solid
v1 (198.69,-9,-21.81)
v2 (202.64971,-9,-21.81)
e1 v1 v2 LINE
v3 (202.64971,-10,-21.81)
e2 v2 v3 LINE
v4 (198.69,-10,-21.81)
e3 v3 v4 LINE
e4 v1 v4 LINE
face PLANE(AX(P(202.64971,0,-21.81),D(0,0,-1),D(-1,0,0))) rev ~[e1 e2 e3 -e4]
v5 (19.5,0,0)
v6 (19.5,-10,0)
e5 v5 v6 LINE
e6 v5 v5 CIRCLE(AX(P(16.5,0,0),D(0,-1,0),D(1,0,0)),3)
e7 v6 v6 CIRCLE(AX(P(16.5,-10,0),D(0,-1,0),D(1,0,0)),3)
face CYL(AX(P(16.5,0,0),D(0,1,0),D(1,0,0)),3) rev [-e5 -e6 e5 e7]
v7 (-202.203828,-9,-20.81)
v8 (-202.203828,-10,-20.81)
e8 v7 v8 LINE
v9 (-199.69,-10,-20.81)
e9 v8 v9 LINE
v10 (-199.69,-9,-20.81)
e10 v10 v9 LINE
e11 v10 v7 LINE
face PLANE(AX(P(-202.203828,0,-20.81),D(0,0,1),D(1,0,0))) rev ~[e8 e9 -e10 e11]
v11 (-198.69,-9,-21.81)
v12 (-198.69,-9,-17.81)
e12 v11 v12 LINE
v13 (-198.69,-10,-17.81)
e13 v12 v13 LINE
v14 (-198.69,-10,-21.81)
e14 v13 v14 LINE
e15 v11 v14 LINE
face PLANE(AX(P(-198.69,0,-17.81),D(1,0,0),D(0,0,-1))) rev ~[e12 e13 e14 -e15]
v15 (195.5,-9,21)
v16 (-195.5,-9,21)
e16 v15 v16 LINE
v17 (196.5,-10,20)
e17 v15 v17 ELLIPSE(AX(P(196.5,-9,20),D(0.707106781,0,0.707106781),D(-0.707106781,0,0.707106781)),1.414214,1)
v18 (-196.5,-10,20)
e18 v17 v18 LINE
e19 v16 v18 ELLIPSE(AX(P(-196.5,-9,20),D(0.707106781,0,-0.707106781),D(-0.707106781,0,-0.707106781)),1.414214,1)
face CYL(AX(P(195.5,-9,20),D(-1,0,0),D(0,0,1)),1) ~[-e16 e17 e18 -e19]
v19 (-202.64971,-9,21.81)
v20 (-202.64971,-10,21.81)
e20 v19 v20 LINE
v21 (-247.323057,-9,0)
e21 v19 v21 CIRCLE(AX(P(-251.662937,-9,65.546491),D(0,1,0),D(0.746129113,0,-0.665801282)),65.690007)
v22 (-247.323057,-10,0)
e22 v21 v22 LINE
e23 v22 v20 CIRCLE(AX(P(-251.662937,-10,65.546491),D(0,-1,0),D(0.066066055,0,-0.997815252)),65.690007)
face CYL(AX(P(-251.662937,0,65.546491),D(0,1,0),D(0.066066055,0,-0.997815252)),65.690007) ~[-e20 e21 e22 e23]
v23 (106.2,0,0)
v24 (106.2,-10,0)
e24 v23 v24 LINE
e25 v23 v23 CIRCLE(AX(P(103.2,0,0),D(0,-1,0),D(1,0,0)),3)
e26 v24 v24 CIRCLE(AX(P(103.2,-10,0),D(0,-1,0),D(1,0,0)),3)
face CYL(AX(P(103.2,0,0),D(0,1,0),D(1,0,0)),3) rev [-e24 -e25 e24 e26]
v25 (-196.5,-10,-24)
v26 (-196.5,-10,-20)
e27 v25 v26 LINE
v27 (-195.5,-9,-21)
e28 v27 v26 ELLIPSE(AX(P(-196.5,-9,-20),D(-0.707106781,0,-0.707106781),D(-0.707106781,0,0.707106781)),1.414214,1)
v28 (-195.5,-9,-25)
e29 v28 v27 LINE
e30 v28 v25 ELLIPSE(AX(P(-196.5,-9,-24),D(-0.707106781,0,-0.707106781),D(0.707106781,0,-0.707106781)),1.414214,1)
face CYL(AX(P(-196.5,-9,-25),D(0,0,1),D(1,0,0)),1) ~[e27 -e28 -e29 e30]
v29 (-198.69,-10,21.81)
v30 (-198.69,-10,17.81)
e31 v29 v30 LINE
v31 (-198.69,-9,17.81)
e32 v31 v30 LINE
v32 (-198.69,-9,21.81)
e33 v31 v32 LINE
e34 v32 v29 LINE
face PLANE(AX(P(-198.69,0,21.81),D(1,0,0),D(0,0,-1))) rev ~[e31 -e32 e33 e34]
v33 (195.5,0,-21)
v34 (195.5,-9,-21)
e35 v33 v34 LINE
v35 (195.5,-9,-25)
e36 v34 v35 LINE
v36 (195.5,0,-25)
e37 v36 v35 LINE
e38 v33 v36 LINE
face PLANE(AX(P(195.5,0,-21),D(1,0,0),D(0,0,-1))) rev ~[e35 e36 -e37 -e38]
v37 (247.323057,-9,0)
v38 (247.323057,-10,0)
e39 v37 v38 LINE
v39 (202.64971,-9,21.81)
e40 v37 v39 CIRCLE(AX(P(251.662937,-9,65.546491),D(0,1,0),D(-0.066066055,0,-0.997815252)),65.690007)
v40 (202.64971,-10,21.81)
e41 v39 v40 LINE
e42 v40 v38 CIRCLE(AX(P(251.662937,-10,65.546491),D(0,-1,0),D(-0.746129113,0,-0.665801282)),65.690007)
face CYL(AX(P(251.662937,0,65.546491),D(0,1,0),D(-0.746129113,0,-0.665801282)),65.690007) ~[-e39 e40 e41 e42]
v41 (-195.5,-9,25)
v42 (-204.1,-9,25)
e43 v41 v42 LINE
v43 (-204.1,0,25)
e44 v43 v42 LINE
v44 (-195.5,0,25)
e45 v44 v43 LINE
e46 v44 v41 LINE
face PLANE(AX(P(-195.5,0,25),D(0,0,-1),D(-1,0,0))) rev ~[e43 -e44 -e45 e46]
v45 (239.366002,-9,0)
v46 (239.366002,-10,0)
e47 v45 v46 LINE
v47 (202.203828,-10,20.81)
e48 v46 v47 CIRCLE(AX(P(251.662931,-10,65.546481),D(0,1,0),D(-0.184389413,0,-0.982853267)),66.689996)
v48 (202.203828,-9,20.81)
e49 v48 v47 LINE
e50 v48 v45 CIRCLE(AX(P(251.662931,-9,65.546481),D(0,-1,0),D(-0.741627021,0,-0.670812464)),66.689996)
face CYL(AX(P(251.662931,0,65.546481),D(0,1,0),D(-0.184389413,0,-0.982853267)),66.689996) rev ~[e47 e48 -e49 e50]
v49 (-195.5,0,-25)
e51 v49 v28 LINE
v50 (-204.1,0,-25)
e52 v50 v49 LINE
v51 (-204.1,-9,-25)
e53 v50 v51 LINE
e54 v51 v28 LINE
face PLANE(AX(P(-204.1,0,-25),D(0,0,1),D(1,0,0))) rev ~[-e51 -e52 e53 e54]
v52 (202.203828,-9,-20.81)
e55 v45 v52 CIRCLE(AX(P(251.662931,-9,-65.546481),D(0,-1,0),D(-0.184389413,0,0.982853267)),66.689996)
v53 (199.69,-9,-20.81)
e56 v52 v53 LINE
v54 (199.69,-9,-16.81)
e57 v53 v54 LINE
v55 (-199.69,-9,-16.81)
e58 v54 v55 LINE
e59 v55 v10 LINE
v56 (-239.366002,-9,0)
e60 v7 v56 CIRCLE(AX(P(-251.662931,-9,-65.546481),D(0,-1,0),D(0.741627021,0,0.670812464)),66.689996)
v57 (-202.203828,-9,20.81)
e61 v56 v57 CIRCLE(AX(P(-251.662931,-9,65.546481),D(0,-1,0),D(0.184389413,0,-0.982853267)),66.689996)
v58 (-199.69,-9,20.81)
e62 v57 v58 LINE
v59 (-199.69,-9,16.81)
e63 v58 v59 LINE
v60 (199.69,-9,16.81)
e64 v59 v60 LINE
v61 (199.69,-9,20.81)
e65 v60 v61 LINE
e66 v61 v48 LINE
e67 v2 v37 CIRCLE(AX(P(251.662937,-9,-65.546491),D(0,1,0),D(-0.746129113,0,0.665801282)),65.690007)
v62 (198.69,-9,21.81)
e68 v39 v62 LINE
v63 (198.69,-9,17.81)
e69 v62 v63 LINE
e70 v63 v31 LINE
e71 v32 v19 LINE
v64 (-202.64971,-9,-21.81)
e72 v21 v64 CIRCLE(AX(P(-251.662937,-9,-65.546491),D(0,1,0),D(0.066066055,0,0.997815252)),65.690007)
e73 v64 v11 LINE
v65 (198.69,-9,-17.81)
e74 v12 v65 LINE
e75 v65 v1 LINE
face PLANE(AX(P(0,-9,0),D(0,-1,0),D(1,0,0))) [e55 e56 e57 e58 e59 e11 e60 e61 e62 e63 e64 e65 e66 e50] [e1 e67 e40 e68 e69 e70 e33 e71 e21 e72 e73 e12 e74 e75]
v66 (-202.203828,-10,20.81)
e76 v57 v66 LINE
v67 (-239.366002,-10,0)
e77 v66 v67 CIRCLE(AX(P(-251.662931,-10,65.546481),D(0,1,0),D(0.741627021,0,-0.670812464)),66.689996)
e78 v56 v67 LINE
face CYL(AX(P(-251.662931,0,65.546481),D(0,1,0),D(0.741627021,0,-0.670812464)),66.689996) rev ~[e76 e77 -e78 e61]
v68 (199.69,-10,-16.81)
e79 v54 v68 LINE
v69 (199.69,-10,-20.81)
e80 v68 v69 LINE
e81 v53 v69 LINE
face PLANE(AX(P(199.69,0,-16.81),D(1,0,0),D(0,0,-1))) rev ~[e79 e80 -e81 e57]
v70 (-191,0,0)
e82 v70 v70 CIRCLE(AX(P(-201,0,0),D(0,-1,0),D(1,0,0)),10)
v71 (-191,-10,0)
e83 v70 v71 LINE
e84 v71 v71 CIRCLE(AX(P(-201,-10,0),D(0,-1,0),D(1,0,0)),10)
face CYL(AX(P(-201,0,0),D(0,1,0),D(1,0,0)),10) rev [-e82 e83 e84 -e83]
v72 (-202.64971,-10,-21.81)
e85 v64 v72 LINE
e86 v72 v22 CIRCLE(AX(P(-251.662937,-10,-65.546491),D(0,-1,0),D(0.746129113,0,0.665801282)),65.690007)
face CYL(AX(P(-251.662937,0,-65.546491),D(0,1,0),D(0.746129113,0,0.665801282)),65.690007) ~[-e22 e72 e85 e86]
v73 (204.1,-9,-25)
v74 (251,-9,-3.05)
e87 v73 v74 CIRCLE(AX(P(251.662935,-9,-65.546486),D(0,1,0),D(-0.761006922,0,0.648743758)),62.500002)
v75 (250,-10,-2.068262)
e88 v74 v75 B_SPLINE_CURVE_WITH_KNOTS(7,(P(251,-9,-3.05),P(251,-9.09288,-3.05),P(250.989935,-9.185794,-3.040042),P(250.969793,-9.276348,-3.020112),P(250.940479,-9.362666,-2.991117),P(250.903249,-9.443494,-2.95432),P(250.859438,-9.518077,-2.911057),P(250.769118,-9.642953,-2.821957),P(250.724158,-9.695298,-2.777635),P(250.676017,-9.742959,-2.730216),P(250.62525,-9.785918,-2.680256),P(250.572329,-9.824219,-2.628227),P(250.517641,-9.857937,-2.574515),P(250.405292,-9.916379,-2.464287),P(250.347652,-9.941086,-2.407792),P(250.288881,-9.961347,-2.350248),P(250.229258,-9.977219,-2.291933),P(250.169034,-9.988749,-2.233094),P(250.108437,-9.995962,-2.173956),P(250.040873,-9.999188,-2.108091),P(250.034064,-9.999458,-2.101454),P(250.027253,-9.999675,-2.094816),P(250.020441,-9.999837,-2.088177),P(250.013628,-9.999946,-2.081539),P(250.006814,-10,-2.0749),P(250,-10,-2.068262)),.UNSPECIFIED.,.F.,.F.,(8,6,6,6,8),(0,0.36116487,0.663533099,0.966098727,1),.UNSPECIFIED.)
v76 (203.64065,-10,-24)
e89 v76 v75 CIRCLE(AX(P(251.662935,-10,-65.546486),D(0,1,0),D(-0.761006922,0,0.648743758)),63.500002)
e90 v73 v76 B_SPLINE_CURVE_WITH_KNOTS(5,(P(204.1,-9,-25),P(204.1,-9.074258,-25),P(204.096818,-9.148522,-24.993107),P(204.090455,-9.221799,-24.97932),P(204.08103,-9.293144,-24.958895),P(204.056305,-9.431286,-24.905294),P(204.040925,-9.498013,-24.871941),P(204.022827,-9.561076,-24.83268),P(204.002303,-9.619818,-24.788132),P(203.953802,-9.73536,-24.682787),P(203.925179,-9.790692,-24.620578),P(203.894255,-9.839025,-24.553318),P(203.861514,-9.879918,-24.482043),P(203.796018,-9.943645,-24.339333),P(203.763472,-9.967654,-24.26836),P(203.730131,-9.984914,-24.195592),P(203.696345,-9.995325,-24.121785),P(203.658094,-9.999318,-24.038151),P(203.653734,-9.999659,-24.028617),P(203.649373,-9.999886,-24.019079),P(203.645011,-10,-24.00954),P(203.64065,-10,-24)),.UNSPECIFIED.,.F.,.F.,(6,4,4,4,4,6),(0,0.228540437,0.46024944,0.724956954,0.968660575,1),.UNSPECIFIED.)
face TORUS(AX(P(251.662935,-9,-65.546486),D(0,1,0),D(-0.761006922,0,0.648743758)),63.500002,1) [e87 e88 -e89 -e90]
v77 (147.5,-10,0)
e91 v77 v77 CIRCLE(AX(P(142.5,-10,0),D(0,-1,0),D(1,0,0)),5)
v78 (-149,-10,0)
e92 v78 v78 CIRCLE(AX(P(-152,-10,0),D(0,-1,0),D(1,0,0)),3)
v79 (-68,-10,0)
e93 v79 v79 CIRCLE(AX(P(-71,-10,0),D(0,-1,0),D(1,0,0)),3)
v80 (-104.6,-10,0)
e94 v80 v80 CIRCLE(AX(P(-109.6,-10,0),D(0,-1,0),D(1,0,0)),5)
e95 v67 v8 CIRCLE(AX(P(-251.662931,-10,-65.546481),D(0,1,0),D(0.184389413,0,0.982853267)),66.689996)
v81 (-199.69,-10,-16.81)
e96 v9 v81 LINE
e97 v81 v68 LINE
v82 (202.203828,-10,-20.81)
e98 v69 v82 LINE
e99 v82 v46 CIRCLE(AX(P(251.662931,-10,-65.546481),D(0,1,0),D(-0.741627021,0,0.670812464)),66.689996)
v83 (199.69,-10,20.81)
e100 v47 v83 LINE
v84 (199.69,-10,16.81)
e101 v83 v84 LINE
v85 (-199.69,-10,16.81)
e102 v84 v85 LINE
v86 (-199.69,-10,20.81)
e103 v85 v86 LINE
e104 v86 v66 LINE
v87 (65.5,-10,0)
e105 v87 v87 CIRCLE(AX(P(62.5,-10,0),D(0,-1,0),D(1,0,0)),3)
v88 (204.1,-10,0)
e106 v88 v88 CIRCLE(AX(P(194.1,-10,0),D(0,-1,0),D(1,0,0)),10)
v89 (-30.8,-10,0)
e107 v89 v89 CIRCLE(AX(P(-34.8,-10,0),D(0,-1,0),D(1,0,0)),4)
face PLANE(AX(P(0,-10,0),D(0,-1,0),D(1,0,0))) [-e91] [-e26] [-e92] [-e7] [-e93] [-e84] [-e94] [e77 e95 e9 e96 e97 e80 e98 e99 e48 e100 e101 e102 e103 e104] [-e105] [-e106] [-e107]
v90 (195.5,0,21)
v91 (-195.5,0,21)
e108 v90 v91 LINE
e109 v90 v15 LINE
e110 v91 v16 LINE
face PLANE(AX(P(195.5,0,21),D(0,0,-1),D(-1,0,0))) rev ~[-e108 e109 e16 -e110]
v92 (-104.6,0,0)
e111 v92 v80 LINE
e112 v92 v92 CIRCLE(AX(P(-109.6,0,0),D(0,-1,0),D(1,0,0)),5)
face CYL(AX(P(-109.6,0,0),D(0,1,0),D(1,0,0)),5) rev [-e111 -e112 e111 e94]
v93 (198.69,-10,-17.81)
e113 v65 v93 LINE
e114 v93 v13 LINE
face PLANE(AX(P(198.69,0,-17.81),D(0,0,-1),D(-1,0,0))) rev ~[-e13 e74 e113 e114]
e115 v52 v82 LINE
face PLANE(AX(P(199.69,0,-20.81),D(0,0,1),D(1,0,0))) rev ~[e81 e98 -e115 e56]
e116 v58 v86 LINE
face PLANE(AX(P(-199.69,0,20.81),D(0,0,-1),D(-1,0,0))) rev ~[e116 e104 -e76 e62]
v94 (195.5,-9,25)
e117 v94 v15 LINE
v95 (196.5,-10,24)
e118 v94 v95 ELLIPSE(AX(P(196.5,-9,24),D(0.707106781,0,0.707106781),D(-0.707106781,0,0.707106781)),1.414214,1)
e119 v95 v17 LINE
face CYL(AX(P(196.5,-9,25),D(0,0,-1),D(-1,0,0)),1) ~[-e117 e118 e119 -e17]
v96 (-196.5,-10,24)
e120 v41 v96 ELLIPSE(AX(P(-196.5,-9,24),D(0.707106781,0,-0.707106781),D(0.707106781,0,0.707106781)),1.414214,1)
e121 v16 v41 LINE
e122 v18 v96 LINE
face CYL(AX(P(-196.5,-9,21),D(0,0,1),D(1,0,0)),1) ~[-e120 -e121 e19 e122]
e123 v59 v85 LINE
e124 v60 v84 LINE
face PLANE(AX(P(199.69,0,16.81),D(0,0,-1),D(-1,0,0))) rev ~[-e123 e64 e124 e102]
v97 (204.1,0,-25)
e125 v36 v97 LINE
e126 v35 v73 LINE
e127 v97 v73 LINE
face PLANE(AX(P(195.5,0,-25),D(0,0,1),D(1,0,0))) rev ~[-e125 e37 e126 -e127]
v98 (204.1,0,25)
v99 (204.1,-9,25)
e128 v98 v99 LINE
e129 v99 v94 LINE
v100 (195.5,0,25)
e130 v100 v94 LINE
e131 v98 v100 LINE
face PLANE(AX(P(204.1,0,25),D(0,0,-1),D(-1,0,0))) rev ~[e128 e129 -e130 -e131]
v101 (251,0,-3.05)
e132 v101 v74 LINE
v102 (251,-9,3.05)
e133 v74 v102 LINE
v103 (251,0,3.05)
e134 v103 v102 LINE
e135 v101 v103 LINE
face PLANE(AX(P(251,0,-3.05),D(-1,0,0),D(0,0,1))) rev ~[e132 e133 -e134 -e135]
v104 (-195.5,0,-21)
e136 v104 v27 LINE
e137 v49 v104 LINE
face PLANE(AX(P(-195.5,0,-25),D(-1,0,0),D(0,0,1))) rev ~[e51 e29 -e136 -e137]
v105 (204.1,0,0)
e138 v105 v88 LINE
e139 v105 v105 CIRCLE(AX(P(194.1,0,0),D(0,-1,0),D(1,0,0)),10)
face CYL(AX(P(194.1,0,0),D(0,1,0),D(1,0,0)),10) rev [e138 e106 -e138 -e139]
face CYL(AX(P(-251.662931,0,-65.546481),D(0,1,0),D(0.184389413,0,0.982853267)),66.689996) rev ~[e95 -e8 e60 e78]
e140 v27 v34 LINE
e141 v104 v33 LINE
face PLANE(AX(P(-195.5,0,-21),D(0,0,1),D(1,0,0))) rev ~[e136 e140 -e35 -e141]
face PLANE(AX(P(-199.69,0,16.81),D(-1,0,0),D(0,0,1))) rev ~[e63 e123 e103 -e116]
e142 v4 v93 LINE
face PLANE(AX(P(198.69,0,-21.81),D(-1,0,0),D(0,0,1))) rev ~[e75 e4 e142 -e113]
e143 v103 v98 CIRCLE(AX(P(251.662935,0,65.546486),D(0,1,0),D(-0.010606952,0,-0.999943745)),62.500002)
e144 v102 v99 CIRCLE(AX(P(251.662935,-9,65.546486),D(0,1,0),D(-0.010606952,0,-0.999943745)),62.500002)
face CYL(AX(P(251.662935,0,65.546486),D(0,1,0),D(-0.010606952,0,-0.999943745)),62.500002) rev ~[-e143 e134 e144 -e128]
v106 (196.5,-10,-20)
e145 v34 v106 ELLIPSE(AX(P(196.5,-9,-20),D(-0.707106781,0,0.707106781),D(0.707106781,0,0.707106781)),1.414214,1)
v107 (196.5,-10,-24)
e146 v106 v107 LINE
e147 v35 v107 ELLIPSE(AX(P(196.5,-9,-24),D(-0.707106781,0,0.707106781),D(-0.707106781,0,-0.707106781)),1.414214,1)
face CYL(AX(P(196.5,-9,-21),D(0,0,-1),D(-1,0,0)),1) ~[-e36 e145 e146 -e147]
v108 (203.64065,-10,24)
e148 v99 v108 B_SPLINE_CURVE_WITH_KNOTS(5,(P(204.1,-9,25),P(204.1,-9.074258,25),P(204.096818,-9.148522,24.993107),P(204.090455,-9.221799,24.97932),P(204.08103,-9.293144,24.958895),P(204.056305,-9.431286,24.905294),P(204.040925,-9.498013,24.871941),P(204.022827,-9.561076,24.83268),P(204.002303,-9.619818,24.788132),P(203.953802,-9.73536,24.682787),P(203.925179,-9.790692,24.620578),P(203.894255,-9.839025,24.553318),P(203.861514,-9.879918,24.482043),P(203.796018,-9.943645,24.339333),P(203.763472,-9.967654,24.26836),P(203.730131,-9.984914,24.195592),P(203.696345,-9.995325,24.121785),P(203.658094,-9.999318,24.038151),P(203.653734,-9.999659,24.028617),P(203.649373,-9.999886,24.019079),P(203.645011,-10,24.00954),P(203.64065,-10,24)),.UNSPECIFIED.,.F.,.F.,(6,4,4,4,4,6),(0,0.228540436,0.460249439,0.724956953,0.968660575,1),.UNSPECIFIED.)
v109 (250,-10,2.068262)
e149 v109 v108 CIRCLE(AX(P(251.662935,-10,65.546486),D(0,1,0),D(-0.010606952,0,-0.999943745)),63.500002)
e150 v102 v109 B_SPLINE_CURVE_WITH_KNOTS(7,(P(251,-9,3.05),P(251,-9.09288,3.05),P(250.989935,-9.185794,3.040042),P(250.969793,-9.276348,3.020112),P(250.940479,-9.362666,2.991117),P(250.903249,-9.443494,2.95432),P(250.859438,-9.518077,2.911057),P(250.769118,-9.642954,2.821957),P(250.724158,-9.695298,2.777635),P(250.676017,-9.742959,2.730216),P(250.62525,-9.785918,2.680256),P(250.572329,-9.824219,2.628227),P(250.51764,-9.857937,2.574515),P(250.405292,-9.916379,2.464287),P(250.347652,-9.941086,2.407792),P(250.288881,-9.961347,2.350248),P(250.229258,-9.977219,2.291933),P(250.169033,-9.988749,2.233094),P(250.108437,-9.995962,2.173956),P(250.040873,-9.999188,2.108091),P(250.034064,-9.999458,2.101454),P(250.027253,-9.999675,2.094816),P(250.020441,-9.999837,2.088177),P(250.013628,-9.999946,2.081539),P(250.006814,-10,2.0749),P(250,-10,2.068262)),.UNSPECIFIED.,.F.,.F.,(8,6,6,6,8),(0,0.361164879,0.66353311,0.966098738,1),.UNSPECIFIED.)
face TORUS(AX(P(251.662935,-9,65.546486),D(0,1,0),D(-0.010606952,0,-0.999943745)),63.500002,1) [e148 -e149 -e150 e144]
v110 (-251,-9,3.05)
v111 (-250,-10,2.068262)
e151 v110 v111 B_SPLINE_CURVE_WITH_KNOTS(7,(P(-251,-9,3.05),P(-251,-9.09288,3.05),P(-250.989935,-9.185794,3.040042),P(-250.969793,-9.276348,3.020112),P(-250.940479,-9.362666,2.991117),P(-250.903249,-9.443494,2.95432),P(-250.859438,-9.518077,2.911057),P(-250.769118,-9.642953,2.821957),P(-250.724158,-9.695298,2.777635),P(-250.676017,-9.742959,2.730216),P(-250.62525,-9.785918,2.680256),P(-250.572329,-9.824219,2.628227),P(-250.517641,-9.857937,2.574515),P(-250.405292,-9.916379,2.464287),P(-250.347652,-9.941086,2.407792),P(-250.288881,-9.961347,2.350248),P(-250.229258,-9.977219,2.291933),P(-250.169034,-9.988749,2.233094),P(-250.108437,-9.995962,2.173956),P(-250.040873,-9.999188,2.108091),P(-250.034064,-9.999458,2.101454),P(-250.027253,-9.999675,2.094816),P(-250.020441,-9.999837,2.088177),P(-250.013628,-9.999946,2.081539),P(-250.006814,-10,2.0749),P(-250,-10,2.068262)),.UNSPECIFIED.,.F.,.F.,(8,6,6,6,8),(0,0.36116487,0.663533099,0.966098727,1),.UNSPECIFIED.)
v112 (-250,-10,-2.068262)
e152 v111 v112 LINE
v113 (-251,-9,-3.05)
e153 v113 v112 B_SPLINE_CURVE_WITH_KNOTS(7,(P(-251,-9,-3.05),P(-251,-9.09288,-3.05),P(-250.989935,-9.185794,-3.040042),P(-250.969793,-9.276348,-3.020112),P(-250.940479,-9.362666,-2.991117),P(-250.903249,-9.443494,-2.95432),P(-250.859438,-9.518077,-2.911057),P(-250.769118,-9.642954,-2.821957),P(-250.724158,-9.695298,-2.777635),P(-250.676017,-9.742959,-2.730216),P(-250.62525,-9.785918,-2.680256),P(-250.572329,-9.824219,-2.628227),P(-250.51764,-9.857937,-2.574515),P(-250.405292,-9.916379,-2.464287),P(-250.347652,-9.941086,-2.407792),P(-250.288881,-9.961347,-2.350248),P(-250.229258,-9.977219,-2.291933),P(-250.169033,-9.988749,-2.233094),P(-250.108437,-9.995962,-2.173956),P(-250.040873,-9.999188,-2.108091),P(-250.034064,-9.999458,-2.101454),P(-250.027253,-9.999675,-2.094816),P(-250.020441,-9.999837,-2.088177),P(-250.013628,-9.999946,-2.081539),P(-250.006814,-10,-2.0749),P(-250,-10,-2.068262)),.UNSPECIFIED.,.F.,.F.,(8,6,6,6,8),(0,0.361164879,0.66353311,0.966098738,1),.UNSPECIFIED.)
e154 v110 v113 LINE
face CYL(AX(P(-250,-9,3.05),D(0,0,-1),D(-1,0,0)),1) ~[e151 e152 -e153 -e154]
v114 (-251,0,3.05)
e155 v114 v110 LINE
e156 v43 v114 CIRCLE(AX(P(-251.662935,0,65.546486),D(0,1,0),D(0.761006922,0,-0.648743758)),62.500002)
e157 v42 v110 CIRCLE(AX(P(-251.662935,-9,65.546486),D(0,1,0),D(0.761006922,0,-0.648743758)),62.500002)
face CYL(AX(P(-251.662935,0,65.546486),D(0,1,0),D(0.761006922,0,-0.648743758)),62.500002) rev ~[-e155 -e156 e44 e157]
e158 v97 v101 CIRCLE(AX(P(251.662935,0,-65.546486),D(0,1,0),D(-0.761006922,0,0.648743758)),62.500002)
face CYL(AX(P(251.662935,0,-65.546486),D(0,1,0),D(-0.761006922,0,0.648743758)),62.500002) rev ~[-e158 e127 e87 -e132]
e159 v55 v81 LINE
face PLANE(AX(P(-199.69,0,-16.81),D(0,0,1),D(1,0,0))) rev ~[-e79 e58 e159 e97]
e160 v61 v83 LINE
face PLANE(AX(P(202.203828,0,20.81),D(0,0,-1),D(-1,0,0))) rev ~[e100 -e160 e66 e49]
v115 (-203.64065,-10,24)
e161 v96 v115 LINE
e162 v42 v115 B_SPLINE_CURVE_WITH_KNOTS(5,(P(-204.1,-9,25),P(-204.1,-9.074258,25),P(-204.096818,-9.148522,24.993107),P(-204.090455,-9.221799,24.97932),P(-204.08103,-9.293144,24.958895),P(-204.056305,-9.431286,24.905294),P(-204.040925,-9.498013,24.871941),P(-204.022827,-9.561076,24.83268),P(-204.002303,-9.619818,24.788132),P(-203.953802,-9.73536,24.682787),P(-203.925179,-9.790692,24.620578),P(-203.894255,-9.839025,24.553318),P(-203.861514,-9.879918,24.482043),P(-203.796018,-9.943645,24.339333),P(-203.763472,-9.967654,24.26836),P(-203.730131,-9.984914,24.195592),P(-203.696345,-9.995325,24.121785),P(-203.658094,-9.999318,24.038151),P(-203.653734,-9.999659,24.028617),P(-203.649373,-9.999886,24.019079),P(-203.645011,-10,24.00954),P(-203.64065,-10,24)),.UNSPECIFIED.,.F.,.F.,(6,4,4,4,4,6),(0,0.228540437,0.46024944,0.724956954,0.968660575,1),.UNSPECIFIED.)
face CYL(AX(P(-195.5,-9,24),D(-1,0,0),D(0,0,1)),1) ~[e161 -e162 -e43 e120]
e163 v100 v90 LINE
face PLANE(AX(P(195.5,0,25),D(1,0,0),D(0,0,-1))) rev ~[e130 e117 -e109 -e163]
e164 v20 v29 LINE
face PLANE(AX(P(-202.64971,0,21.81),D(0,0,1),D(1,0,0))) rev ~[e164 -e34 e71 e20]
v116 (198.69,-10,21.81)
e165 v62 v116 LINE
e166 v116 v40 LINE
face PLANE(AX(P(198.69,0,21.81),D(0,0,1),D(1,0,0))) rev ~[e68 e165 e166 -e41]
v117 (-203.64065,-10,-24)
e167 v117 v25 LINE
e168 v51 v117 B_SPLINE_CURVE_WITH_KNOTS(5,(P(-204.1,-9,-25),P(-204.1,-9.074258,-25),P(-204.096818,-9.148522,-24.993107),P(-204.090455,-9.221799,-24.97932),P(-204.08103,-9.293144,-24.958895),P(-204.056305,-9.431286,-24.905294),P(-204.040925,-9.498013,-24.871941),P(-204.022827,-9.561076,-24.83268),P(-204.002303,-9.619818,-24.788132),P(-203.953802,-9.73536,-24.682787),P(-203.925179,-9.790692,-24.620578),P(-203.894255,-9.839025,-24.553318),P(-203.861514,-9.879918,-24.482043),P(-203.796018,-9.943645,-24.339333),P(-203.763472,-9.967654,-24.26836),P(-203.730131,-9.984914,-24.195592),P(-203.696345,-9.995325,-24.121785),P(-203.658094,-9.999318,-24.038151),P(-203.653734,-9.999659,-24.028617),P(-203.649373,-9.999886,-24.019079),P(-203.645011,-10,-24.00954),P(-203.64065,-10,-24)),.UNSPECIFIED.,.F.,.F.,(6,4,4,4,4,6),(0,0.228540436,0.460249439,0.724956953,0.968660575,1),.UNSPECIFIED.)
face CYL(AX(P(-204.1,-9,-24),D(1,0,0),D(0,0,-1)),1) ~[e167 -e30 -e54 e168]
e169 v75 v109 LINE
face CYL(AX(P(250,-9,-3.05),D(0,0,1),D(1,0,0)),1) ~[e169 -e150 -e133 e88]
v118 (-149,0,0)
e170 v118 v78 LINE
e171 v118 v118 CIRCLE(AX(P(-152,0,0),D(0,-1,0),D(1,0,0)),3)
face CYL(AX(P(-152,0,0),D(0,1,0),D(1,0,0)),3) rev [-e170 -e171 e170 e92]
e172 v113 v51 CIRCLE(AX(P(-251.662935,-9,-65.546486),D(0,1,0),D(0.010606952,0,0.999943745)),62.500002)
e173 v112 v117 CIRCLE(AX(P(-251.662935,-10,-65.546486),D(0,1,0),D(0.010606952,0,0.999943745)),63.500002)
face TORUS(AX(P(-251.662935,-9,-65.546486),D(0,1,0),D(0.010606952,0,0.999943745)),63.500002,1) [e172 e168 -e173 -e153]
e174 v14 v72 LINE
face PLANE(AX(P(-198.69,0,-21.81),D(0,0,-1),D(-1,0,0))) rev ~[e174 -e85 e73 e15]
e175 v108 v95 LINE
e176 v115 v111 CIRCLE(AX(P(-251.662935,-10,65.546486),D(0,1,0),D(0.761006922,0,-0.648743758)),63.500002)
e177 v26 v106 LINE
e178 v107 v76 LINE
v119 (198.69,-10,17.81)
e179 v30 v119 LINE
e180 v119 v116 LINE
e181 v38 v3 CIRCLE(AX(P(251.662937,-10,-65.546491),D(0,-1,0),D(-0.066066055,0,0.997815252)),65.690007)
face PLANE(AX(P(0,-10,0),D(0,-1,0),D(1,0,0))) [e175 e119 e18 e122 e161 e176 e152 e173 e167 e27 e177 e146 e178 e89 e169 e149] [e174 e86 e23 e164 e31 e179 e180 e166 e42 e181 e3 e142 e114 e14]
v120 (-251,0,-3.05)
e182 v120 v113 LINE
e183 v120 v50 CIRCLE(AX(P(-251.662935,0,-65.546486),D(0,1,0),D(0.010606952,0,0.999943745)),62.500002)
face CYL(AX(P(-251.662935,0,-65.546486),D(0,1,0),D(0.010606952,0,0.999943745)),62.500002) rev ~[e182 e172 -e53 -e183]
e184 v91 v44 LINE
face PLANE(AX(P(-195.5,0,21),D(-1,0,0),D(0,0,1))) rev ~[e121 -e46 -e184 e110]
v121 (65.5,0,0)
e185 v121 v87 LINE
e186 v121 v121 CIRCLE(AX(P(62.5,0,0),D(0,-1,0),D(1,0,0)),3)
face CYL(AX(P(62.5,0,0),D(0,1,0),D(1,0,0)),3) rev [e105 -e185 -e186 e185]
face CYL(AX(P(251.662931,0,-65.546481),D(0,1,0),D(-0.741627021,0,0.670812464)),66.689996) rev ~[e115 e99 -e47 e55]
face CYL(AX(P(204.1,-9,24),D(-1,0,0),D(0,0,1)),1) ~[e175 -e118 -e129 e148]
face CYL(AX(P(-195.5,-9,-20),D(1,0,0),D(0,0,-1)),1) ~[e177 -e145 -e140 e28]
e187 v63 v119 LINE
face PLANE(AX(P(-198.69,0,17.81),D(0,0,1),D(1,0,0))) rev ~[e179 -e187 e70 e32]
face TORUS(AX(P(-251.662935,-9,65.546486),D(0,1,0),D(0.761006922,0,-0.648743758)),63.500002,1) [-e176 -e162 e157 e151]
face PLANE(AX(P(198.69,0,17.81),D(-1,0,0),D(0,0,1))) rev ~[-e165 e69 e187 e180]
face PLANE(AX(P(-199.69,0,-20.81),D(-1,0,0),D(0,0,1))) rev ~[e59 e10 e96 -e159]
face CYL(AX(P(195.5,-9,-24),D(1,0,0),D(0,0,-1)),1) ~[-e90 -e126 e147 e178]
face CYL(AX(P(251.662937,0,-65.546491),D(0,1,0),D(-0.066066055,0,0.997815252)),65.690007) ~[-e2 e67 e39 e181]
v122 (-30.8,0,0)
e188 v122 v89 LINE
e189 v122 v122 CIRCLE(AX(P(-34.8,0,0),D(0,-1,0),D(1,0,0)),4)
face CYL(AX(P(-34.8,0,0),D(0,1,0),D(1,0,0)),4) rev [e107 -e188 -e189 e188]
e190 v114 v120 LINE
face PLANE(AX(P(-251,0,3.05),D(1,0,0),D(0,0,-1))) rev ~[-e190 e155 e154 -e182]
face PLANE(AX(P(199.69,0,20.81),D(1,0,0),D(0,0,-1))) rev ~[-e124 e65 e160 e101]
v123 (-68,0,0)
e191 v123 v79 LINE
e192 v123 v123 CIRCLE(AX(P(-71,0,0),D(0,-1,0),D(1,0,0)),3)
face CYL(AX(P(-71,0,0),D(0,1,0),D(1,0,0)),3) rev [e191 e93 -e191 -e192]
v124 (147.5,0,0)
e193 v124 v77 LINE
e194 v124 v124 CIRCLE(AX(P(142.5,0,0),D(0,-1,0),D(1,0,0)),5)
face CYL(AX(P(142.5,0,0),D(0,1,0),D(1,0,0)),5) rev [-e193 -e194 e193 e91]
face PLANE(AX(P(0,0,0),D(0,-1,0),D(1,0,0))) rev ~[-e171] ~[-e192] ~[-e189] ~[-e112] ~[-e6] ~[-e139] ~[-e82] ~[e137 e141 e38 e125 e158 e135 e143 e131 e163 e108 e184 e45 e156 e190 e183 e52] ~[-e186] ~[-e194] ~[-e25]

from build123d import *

# Parameters (mm, degrees)
F0_R     = 10
F0_R_2   = 3
F0_R_3   = 5
F0_R_4   = 4
F1_DEPTH = 10
F2_R     = 1
F3_DEPTH = 9


with BuildPart() as f1:
    # F0 (on Front) → F1 (new body)
    with BuildSketch(Plane.XZ):
        with BuildLine():
            Line((195.5, -25), (204.1, -25))
            ThreePointArc((204.1, -25), (225.169837, -8.939366), (251, -3.05))
            Line((251, -3.05), (251, 3.05))
            ThreePointArc((251, 3.05), (225.169837, 8.939366), (204.1, 25))
            Line((204.1, 25), (195.5, 25))
            Line((195.5, 25), (195.5, 21))
            Line((195.5, 21), (-195.5, 21))
            Line((-195.5, 21), (-195.5, 25))
            Line((-195.5, 25), (-204.1, 25))
            ThreePointArc((-204.1, 25), (-225.169837, 8.939366), (-251, 3.05))
            Line((-251, 3.05), (-251, -3.05))
            ThreePointArc((-251, -3.05), (-225.169837, -8.939366), (-204.1, -25))
            Line((-204.1, -25), (-195.5, -25))
            Line((-195.5, -25), (-195.5, -21))
            Line((-195.5, -21), (195.5, -21))
            Line((195.5, -21), (195.5, -25))
        make_face()
        with BuildLine():
            Line((-202.64971, 21.81), (-198.69, 21.81))
            Line((-198.69, 21.81), (-198.69, 17.81))
            Line((-198.69, 17.81), (198.69, 17.81))
            Line((198.69, 17.81), (198.69, 21.81))
            Line((198.69, 21.81), (202.64971, 21.81))
            ThreePointArc((202.64971, 21.81), (222.843542, 6.515825), (247.323057, 0))
            ThreePointArc((247.323057, 0), (222.843542, -6.515825), (202.64971, -21.81))
            Line((202.64971, -21.81), (198.69, -21.81))
            Line((198.69, -21.81), (198.69, -17.81))
            Line((198.69, -17.81), (-198.69, -17.81))
            Line((-198.69, -17.81), (-198.69, -21.81))
            Line((-198.69, -21.81), (-202.64971, -21.81))
            ThreePointArc((-202.64971, -21.81), (-222.843542, -6.515825), (-247.323057, 0))
            ThreePointArc((-247.323057, 0), (-222.843542, 6.515825), (-202.64971, 21.81))
        make_face(mode=Mode.SUBTRACT)
        with BuildLine():
            Line((202.203828, 20.81), (199.69, 20.81))
            Line((199.69, 20.81), (199.69, 16.81))
            Line((199.69, 16.81), (-199.69, 16.81))
            Line((-199.69, 16.81), (-199.69, 20.81))
            Line((-199.69, 20.81), (-202.203828, 20.81))
            ThreePointArc((-202.203828, 20.81), (-219.078949, 7.358512), (-239.366002, 0))
            ThreePointArc((-239.366002, 0), (-219.078949, -7.358512), (-202.203828, -20.81))
            Line((-202.203828, -20.81), (-199.69, -20.81))
            Line((-199.69, -20.81), (-199.69, -16.81))
            Line((-199.69, -16.81), (199.69, -16.81))
            Line((199.69, -16.81), (199.69, -20.81))
            Line((199.69, -20.81), (202.203828, -20.81))
            ThreePointArc((202.203828, -20.81), (219.078949, -7.358512), (239.366002, 0))
            ThreePointArc((239.366002, 0), (219.078949, 7.358512), (202.203828, 20.81))
        make_face()
        with Locations((-201, 0)):
            Circle(F0_R, mode=Mode.SUBTRACT)
        with Locations((-152, 0)):
            Circle(F0_R_2, mode=Mode.SUBTRACT)
        with Locations((-109.6, 0)):
            Circle(F0_R_3, mode=Mode.SUBTRACT)
        with Locations((-71, 0)):
            Circle(F0_R_2, mode=Mode.SUBTRACT)
        with Locations((-34.8, 0)):
            Circle(F0_R_4, mode=Mode.SUBTRACT)
        with Locations((16.5, 0)):
            Circle(F0_R_2, mode=Mode.SUBTRACT)
        with Locations((62.5, 0)):
            Circle(F0_R_2, mode=Mode.SUBTRACT)
        with Locations((103.2, 0)):
            Circle(F0_R_2, mode=Mode.SUBTRACT)
        with Locations((142.5, 0)):
            Circle(F0_R_3, mode=Mode.SUBTRACT)
        with Locations((194.1, 0)):
            Circle(F0_R, mode=Mode.SUBTRACT)
    extrude(amount=F1_DEPTH)

    # F2
    f2_edges = [f1.edges().sort_by_distance(p)[0] for p in [
        (0, -10, 21),
        (-195.5, -10, 23),
        (-251, -10, 0),
        (-225.169837, -10, -8.939366),
        (-199.8, -10, -25),
        (-195.5, -10, -23),
        (0, -10, -21),
        (195.5, -10, -23),
        (199.8, -10, -25),
        (225.169837, -10, -8.939366),
        (251, -10, 0),
        (225.169837, -10, 8.939366),
        (199.8, -10, 25),
        (195.5, -10, 23),
        (-199.8, -10, 25),
        (-225.169837, -10, 8.939366),
    ]]
    fillet(f2_edges, radius=F2_R)

    # F0 (on Front) → F3 (join)
    with BuildSketch(Plane.XZ):
        with BuildLine():
            Line((-198.69, 17.81), (-198.69, 21.81))
            Line((-198.69, 21.81), (-202.64971, 21.81))
            ThreePointArc((-202.64971, 21.81), (-222.843542, 6.515825), (-247.323057, 0))
            ThreePointArc((-247.323057, 0), (-222.843542, -6.515825), (-202.64971, -21.81))
            Line((-202.64971, -21.81), (-198.69, -21.81))
            Line((-198.69, -21.81), (-198.69, -17.81))
            Line((-198.69, -17.81), (198.69, -17.81))
            Line((198.69, -17.81), (198.69, -21.81))
            Line((198.69, -21.81), (202.64971, -21.81))
            ThreePointArc((202.64971, -21.81), (222.843542, -6.515825), (247.323057, 0))
            ThreePointArc((247.323057, 0), (222.843542, 6.515825), (202.64971, 21.81))
            Line((202.64971, 21.81), (198.69, 21.81))
            Line((198.69, 21.81), (198.69, 17.81))
            Line((198.69, 17.81), (-198.69, 17.81))
        make_face()
        with BuildLine():
            Line((199.69, 16.81), (199.69, 20.81))
            Line((199.69, 20.81), (202.203828, 20.81))
            ThreePointArc((202.203828, 20.81), (219.078949, 7.358512), (239.366002, 0))
            ThreePointArc((239.366002, 0), (219.078949, -7.358512), (202.203828, -20.81))
            Line((202.203828, -20.81), (199.69, -20.81))
            Line((199.69, -20.81), (199.69, -16.81))
            Line((199.69, -16.81), (-199.69, -16.81))
            Line((-199.69, -16.81), (-199.69, -20.81))
            Line((-199.69, -20.81), (-202.203828, -20.81))
            ThreePointArc((-202.203828, -20.81), (-219.078949, -7.358512), (-239.366002, 0))
            ThreePointArc((-239.366002, 0), (-219.078949, 7.358512), (-202.203828, 20.81))
            Line((-202.203828, 20.81), (-199.69, 20.81))
            Line((-199.69, 20.81), (-199.69, 16.81))
            Line((-199.69, 16.81), (199.69, 16.81))
        make_face(mode=Mode.SUBTRACT)
    extrude(amount=F3_DEPTH)


solid = f1.part
